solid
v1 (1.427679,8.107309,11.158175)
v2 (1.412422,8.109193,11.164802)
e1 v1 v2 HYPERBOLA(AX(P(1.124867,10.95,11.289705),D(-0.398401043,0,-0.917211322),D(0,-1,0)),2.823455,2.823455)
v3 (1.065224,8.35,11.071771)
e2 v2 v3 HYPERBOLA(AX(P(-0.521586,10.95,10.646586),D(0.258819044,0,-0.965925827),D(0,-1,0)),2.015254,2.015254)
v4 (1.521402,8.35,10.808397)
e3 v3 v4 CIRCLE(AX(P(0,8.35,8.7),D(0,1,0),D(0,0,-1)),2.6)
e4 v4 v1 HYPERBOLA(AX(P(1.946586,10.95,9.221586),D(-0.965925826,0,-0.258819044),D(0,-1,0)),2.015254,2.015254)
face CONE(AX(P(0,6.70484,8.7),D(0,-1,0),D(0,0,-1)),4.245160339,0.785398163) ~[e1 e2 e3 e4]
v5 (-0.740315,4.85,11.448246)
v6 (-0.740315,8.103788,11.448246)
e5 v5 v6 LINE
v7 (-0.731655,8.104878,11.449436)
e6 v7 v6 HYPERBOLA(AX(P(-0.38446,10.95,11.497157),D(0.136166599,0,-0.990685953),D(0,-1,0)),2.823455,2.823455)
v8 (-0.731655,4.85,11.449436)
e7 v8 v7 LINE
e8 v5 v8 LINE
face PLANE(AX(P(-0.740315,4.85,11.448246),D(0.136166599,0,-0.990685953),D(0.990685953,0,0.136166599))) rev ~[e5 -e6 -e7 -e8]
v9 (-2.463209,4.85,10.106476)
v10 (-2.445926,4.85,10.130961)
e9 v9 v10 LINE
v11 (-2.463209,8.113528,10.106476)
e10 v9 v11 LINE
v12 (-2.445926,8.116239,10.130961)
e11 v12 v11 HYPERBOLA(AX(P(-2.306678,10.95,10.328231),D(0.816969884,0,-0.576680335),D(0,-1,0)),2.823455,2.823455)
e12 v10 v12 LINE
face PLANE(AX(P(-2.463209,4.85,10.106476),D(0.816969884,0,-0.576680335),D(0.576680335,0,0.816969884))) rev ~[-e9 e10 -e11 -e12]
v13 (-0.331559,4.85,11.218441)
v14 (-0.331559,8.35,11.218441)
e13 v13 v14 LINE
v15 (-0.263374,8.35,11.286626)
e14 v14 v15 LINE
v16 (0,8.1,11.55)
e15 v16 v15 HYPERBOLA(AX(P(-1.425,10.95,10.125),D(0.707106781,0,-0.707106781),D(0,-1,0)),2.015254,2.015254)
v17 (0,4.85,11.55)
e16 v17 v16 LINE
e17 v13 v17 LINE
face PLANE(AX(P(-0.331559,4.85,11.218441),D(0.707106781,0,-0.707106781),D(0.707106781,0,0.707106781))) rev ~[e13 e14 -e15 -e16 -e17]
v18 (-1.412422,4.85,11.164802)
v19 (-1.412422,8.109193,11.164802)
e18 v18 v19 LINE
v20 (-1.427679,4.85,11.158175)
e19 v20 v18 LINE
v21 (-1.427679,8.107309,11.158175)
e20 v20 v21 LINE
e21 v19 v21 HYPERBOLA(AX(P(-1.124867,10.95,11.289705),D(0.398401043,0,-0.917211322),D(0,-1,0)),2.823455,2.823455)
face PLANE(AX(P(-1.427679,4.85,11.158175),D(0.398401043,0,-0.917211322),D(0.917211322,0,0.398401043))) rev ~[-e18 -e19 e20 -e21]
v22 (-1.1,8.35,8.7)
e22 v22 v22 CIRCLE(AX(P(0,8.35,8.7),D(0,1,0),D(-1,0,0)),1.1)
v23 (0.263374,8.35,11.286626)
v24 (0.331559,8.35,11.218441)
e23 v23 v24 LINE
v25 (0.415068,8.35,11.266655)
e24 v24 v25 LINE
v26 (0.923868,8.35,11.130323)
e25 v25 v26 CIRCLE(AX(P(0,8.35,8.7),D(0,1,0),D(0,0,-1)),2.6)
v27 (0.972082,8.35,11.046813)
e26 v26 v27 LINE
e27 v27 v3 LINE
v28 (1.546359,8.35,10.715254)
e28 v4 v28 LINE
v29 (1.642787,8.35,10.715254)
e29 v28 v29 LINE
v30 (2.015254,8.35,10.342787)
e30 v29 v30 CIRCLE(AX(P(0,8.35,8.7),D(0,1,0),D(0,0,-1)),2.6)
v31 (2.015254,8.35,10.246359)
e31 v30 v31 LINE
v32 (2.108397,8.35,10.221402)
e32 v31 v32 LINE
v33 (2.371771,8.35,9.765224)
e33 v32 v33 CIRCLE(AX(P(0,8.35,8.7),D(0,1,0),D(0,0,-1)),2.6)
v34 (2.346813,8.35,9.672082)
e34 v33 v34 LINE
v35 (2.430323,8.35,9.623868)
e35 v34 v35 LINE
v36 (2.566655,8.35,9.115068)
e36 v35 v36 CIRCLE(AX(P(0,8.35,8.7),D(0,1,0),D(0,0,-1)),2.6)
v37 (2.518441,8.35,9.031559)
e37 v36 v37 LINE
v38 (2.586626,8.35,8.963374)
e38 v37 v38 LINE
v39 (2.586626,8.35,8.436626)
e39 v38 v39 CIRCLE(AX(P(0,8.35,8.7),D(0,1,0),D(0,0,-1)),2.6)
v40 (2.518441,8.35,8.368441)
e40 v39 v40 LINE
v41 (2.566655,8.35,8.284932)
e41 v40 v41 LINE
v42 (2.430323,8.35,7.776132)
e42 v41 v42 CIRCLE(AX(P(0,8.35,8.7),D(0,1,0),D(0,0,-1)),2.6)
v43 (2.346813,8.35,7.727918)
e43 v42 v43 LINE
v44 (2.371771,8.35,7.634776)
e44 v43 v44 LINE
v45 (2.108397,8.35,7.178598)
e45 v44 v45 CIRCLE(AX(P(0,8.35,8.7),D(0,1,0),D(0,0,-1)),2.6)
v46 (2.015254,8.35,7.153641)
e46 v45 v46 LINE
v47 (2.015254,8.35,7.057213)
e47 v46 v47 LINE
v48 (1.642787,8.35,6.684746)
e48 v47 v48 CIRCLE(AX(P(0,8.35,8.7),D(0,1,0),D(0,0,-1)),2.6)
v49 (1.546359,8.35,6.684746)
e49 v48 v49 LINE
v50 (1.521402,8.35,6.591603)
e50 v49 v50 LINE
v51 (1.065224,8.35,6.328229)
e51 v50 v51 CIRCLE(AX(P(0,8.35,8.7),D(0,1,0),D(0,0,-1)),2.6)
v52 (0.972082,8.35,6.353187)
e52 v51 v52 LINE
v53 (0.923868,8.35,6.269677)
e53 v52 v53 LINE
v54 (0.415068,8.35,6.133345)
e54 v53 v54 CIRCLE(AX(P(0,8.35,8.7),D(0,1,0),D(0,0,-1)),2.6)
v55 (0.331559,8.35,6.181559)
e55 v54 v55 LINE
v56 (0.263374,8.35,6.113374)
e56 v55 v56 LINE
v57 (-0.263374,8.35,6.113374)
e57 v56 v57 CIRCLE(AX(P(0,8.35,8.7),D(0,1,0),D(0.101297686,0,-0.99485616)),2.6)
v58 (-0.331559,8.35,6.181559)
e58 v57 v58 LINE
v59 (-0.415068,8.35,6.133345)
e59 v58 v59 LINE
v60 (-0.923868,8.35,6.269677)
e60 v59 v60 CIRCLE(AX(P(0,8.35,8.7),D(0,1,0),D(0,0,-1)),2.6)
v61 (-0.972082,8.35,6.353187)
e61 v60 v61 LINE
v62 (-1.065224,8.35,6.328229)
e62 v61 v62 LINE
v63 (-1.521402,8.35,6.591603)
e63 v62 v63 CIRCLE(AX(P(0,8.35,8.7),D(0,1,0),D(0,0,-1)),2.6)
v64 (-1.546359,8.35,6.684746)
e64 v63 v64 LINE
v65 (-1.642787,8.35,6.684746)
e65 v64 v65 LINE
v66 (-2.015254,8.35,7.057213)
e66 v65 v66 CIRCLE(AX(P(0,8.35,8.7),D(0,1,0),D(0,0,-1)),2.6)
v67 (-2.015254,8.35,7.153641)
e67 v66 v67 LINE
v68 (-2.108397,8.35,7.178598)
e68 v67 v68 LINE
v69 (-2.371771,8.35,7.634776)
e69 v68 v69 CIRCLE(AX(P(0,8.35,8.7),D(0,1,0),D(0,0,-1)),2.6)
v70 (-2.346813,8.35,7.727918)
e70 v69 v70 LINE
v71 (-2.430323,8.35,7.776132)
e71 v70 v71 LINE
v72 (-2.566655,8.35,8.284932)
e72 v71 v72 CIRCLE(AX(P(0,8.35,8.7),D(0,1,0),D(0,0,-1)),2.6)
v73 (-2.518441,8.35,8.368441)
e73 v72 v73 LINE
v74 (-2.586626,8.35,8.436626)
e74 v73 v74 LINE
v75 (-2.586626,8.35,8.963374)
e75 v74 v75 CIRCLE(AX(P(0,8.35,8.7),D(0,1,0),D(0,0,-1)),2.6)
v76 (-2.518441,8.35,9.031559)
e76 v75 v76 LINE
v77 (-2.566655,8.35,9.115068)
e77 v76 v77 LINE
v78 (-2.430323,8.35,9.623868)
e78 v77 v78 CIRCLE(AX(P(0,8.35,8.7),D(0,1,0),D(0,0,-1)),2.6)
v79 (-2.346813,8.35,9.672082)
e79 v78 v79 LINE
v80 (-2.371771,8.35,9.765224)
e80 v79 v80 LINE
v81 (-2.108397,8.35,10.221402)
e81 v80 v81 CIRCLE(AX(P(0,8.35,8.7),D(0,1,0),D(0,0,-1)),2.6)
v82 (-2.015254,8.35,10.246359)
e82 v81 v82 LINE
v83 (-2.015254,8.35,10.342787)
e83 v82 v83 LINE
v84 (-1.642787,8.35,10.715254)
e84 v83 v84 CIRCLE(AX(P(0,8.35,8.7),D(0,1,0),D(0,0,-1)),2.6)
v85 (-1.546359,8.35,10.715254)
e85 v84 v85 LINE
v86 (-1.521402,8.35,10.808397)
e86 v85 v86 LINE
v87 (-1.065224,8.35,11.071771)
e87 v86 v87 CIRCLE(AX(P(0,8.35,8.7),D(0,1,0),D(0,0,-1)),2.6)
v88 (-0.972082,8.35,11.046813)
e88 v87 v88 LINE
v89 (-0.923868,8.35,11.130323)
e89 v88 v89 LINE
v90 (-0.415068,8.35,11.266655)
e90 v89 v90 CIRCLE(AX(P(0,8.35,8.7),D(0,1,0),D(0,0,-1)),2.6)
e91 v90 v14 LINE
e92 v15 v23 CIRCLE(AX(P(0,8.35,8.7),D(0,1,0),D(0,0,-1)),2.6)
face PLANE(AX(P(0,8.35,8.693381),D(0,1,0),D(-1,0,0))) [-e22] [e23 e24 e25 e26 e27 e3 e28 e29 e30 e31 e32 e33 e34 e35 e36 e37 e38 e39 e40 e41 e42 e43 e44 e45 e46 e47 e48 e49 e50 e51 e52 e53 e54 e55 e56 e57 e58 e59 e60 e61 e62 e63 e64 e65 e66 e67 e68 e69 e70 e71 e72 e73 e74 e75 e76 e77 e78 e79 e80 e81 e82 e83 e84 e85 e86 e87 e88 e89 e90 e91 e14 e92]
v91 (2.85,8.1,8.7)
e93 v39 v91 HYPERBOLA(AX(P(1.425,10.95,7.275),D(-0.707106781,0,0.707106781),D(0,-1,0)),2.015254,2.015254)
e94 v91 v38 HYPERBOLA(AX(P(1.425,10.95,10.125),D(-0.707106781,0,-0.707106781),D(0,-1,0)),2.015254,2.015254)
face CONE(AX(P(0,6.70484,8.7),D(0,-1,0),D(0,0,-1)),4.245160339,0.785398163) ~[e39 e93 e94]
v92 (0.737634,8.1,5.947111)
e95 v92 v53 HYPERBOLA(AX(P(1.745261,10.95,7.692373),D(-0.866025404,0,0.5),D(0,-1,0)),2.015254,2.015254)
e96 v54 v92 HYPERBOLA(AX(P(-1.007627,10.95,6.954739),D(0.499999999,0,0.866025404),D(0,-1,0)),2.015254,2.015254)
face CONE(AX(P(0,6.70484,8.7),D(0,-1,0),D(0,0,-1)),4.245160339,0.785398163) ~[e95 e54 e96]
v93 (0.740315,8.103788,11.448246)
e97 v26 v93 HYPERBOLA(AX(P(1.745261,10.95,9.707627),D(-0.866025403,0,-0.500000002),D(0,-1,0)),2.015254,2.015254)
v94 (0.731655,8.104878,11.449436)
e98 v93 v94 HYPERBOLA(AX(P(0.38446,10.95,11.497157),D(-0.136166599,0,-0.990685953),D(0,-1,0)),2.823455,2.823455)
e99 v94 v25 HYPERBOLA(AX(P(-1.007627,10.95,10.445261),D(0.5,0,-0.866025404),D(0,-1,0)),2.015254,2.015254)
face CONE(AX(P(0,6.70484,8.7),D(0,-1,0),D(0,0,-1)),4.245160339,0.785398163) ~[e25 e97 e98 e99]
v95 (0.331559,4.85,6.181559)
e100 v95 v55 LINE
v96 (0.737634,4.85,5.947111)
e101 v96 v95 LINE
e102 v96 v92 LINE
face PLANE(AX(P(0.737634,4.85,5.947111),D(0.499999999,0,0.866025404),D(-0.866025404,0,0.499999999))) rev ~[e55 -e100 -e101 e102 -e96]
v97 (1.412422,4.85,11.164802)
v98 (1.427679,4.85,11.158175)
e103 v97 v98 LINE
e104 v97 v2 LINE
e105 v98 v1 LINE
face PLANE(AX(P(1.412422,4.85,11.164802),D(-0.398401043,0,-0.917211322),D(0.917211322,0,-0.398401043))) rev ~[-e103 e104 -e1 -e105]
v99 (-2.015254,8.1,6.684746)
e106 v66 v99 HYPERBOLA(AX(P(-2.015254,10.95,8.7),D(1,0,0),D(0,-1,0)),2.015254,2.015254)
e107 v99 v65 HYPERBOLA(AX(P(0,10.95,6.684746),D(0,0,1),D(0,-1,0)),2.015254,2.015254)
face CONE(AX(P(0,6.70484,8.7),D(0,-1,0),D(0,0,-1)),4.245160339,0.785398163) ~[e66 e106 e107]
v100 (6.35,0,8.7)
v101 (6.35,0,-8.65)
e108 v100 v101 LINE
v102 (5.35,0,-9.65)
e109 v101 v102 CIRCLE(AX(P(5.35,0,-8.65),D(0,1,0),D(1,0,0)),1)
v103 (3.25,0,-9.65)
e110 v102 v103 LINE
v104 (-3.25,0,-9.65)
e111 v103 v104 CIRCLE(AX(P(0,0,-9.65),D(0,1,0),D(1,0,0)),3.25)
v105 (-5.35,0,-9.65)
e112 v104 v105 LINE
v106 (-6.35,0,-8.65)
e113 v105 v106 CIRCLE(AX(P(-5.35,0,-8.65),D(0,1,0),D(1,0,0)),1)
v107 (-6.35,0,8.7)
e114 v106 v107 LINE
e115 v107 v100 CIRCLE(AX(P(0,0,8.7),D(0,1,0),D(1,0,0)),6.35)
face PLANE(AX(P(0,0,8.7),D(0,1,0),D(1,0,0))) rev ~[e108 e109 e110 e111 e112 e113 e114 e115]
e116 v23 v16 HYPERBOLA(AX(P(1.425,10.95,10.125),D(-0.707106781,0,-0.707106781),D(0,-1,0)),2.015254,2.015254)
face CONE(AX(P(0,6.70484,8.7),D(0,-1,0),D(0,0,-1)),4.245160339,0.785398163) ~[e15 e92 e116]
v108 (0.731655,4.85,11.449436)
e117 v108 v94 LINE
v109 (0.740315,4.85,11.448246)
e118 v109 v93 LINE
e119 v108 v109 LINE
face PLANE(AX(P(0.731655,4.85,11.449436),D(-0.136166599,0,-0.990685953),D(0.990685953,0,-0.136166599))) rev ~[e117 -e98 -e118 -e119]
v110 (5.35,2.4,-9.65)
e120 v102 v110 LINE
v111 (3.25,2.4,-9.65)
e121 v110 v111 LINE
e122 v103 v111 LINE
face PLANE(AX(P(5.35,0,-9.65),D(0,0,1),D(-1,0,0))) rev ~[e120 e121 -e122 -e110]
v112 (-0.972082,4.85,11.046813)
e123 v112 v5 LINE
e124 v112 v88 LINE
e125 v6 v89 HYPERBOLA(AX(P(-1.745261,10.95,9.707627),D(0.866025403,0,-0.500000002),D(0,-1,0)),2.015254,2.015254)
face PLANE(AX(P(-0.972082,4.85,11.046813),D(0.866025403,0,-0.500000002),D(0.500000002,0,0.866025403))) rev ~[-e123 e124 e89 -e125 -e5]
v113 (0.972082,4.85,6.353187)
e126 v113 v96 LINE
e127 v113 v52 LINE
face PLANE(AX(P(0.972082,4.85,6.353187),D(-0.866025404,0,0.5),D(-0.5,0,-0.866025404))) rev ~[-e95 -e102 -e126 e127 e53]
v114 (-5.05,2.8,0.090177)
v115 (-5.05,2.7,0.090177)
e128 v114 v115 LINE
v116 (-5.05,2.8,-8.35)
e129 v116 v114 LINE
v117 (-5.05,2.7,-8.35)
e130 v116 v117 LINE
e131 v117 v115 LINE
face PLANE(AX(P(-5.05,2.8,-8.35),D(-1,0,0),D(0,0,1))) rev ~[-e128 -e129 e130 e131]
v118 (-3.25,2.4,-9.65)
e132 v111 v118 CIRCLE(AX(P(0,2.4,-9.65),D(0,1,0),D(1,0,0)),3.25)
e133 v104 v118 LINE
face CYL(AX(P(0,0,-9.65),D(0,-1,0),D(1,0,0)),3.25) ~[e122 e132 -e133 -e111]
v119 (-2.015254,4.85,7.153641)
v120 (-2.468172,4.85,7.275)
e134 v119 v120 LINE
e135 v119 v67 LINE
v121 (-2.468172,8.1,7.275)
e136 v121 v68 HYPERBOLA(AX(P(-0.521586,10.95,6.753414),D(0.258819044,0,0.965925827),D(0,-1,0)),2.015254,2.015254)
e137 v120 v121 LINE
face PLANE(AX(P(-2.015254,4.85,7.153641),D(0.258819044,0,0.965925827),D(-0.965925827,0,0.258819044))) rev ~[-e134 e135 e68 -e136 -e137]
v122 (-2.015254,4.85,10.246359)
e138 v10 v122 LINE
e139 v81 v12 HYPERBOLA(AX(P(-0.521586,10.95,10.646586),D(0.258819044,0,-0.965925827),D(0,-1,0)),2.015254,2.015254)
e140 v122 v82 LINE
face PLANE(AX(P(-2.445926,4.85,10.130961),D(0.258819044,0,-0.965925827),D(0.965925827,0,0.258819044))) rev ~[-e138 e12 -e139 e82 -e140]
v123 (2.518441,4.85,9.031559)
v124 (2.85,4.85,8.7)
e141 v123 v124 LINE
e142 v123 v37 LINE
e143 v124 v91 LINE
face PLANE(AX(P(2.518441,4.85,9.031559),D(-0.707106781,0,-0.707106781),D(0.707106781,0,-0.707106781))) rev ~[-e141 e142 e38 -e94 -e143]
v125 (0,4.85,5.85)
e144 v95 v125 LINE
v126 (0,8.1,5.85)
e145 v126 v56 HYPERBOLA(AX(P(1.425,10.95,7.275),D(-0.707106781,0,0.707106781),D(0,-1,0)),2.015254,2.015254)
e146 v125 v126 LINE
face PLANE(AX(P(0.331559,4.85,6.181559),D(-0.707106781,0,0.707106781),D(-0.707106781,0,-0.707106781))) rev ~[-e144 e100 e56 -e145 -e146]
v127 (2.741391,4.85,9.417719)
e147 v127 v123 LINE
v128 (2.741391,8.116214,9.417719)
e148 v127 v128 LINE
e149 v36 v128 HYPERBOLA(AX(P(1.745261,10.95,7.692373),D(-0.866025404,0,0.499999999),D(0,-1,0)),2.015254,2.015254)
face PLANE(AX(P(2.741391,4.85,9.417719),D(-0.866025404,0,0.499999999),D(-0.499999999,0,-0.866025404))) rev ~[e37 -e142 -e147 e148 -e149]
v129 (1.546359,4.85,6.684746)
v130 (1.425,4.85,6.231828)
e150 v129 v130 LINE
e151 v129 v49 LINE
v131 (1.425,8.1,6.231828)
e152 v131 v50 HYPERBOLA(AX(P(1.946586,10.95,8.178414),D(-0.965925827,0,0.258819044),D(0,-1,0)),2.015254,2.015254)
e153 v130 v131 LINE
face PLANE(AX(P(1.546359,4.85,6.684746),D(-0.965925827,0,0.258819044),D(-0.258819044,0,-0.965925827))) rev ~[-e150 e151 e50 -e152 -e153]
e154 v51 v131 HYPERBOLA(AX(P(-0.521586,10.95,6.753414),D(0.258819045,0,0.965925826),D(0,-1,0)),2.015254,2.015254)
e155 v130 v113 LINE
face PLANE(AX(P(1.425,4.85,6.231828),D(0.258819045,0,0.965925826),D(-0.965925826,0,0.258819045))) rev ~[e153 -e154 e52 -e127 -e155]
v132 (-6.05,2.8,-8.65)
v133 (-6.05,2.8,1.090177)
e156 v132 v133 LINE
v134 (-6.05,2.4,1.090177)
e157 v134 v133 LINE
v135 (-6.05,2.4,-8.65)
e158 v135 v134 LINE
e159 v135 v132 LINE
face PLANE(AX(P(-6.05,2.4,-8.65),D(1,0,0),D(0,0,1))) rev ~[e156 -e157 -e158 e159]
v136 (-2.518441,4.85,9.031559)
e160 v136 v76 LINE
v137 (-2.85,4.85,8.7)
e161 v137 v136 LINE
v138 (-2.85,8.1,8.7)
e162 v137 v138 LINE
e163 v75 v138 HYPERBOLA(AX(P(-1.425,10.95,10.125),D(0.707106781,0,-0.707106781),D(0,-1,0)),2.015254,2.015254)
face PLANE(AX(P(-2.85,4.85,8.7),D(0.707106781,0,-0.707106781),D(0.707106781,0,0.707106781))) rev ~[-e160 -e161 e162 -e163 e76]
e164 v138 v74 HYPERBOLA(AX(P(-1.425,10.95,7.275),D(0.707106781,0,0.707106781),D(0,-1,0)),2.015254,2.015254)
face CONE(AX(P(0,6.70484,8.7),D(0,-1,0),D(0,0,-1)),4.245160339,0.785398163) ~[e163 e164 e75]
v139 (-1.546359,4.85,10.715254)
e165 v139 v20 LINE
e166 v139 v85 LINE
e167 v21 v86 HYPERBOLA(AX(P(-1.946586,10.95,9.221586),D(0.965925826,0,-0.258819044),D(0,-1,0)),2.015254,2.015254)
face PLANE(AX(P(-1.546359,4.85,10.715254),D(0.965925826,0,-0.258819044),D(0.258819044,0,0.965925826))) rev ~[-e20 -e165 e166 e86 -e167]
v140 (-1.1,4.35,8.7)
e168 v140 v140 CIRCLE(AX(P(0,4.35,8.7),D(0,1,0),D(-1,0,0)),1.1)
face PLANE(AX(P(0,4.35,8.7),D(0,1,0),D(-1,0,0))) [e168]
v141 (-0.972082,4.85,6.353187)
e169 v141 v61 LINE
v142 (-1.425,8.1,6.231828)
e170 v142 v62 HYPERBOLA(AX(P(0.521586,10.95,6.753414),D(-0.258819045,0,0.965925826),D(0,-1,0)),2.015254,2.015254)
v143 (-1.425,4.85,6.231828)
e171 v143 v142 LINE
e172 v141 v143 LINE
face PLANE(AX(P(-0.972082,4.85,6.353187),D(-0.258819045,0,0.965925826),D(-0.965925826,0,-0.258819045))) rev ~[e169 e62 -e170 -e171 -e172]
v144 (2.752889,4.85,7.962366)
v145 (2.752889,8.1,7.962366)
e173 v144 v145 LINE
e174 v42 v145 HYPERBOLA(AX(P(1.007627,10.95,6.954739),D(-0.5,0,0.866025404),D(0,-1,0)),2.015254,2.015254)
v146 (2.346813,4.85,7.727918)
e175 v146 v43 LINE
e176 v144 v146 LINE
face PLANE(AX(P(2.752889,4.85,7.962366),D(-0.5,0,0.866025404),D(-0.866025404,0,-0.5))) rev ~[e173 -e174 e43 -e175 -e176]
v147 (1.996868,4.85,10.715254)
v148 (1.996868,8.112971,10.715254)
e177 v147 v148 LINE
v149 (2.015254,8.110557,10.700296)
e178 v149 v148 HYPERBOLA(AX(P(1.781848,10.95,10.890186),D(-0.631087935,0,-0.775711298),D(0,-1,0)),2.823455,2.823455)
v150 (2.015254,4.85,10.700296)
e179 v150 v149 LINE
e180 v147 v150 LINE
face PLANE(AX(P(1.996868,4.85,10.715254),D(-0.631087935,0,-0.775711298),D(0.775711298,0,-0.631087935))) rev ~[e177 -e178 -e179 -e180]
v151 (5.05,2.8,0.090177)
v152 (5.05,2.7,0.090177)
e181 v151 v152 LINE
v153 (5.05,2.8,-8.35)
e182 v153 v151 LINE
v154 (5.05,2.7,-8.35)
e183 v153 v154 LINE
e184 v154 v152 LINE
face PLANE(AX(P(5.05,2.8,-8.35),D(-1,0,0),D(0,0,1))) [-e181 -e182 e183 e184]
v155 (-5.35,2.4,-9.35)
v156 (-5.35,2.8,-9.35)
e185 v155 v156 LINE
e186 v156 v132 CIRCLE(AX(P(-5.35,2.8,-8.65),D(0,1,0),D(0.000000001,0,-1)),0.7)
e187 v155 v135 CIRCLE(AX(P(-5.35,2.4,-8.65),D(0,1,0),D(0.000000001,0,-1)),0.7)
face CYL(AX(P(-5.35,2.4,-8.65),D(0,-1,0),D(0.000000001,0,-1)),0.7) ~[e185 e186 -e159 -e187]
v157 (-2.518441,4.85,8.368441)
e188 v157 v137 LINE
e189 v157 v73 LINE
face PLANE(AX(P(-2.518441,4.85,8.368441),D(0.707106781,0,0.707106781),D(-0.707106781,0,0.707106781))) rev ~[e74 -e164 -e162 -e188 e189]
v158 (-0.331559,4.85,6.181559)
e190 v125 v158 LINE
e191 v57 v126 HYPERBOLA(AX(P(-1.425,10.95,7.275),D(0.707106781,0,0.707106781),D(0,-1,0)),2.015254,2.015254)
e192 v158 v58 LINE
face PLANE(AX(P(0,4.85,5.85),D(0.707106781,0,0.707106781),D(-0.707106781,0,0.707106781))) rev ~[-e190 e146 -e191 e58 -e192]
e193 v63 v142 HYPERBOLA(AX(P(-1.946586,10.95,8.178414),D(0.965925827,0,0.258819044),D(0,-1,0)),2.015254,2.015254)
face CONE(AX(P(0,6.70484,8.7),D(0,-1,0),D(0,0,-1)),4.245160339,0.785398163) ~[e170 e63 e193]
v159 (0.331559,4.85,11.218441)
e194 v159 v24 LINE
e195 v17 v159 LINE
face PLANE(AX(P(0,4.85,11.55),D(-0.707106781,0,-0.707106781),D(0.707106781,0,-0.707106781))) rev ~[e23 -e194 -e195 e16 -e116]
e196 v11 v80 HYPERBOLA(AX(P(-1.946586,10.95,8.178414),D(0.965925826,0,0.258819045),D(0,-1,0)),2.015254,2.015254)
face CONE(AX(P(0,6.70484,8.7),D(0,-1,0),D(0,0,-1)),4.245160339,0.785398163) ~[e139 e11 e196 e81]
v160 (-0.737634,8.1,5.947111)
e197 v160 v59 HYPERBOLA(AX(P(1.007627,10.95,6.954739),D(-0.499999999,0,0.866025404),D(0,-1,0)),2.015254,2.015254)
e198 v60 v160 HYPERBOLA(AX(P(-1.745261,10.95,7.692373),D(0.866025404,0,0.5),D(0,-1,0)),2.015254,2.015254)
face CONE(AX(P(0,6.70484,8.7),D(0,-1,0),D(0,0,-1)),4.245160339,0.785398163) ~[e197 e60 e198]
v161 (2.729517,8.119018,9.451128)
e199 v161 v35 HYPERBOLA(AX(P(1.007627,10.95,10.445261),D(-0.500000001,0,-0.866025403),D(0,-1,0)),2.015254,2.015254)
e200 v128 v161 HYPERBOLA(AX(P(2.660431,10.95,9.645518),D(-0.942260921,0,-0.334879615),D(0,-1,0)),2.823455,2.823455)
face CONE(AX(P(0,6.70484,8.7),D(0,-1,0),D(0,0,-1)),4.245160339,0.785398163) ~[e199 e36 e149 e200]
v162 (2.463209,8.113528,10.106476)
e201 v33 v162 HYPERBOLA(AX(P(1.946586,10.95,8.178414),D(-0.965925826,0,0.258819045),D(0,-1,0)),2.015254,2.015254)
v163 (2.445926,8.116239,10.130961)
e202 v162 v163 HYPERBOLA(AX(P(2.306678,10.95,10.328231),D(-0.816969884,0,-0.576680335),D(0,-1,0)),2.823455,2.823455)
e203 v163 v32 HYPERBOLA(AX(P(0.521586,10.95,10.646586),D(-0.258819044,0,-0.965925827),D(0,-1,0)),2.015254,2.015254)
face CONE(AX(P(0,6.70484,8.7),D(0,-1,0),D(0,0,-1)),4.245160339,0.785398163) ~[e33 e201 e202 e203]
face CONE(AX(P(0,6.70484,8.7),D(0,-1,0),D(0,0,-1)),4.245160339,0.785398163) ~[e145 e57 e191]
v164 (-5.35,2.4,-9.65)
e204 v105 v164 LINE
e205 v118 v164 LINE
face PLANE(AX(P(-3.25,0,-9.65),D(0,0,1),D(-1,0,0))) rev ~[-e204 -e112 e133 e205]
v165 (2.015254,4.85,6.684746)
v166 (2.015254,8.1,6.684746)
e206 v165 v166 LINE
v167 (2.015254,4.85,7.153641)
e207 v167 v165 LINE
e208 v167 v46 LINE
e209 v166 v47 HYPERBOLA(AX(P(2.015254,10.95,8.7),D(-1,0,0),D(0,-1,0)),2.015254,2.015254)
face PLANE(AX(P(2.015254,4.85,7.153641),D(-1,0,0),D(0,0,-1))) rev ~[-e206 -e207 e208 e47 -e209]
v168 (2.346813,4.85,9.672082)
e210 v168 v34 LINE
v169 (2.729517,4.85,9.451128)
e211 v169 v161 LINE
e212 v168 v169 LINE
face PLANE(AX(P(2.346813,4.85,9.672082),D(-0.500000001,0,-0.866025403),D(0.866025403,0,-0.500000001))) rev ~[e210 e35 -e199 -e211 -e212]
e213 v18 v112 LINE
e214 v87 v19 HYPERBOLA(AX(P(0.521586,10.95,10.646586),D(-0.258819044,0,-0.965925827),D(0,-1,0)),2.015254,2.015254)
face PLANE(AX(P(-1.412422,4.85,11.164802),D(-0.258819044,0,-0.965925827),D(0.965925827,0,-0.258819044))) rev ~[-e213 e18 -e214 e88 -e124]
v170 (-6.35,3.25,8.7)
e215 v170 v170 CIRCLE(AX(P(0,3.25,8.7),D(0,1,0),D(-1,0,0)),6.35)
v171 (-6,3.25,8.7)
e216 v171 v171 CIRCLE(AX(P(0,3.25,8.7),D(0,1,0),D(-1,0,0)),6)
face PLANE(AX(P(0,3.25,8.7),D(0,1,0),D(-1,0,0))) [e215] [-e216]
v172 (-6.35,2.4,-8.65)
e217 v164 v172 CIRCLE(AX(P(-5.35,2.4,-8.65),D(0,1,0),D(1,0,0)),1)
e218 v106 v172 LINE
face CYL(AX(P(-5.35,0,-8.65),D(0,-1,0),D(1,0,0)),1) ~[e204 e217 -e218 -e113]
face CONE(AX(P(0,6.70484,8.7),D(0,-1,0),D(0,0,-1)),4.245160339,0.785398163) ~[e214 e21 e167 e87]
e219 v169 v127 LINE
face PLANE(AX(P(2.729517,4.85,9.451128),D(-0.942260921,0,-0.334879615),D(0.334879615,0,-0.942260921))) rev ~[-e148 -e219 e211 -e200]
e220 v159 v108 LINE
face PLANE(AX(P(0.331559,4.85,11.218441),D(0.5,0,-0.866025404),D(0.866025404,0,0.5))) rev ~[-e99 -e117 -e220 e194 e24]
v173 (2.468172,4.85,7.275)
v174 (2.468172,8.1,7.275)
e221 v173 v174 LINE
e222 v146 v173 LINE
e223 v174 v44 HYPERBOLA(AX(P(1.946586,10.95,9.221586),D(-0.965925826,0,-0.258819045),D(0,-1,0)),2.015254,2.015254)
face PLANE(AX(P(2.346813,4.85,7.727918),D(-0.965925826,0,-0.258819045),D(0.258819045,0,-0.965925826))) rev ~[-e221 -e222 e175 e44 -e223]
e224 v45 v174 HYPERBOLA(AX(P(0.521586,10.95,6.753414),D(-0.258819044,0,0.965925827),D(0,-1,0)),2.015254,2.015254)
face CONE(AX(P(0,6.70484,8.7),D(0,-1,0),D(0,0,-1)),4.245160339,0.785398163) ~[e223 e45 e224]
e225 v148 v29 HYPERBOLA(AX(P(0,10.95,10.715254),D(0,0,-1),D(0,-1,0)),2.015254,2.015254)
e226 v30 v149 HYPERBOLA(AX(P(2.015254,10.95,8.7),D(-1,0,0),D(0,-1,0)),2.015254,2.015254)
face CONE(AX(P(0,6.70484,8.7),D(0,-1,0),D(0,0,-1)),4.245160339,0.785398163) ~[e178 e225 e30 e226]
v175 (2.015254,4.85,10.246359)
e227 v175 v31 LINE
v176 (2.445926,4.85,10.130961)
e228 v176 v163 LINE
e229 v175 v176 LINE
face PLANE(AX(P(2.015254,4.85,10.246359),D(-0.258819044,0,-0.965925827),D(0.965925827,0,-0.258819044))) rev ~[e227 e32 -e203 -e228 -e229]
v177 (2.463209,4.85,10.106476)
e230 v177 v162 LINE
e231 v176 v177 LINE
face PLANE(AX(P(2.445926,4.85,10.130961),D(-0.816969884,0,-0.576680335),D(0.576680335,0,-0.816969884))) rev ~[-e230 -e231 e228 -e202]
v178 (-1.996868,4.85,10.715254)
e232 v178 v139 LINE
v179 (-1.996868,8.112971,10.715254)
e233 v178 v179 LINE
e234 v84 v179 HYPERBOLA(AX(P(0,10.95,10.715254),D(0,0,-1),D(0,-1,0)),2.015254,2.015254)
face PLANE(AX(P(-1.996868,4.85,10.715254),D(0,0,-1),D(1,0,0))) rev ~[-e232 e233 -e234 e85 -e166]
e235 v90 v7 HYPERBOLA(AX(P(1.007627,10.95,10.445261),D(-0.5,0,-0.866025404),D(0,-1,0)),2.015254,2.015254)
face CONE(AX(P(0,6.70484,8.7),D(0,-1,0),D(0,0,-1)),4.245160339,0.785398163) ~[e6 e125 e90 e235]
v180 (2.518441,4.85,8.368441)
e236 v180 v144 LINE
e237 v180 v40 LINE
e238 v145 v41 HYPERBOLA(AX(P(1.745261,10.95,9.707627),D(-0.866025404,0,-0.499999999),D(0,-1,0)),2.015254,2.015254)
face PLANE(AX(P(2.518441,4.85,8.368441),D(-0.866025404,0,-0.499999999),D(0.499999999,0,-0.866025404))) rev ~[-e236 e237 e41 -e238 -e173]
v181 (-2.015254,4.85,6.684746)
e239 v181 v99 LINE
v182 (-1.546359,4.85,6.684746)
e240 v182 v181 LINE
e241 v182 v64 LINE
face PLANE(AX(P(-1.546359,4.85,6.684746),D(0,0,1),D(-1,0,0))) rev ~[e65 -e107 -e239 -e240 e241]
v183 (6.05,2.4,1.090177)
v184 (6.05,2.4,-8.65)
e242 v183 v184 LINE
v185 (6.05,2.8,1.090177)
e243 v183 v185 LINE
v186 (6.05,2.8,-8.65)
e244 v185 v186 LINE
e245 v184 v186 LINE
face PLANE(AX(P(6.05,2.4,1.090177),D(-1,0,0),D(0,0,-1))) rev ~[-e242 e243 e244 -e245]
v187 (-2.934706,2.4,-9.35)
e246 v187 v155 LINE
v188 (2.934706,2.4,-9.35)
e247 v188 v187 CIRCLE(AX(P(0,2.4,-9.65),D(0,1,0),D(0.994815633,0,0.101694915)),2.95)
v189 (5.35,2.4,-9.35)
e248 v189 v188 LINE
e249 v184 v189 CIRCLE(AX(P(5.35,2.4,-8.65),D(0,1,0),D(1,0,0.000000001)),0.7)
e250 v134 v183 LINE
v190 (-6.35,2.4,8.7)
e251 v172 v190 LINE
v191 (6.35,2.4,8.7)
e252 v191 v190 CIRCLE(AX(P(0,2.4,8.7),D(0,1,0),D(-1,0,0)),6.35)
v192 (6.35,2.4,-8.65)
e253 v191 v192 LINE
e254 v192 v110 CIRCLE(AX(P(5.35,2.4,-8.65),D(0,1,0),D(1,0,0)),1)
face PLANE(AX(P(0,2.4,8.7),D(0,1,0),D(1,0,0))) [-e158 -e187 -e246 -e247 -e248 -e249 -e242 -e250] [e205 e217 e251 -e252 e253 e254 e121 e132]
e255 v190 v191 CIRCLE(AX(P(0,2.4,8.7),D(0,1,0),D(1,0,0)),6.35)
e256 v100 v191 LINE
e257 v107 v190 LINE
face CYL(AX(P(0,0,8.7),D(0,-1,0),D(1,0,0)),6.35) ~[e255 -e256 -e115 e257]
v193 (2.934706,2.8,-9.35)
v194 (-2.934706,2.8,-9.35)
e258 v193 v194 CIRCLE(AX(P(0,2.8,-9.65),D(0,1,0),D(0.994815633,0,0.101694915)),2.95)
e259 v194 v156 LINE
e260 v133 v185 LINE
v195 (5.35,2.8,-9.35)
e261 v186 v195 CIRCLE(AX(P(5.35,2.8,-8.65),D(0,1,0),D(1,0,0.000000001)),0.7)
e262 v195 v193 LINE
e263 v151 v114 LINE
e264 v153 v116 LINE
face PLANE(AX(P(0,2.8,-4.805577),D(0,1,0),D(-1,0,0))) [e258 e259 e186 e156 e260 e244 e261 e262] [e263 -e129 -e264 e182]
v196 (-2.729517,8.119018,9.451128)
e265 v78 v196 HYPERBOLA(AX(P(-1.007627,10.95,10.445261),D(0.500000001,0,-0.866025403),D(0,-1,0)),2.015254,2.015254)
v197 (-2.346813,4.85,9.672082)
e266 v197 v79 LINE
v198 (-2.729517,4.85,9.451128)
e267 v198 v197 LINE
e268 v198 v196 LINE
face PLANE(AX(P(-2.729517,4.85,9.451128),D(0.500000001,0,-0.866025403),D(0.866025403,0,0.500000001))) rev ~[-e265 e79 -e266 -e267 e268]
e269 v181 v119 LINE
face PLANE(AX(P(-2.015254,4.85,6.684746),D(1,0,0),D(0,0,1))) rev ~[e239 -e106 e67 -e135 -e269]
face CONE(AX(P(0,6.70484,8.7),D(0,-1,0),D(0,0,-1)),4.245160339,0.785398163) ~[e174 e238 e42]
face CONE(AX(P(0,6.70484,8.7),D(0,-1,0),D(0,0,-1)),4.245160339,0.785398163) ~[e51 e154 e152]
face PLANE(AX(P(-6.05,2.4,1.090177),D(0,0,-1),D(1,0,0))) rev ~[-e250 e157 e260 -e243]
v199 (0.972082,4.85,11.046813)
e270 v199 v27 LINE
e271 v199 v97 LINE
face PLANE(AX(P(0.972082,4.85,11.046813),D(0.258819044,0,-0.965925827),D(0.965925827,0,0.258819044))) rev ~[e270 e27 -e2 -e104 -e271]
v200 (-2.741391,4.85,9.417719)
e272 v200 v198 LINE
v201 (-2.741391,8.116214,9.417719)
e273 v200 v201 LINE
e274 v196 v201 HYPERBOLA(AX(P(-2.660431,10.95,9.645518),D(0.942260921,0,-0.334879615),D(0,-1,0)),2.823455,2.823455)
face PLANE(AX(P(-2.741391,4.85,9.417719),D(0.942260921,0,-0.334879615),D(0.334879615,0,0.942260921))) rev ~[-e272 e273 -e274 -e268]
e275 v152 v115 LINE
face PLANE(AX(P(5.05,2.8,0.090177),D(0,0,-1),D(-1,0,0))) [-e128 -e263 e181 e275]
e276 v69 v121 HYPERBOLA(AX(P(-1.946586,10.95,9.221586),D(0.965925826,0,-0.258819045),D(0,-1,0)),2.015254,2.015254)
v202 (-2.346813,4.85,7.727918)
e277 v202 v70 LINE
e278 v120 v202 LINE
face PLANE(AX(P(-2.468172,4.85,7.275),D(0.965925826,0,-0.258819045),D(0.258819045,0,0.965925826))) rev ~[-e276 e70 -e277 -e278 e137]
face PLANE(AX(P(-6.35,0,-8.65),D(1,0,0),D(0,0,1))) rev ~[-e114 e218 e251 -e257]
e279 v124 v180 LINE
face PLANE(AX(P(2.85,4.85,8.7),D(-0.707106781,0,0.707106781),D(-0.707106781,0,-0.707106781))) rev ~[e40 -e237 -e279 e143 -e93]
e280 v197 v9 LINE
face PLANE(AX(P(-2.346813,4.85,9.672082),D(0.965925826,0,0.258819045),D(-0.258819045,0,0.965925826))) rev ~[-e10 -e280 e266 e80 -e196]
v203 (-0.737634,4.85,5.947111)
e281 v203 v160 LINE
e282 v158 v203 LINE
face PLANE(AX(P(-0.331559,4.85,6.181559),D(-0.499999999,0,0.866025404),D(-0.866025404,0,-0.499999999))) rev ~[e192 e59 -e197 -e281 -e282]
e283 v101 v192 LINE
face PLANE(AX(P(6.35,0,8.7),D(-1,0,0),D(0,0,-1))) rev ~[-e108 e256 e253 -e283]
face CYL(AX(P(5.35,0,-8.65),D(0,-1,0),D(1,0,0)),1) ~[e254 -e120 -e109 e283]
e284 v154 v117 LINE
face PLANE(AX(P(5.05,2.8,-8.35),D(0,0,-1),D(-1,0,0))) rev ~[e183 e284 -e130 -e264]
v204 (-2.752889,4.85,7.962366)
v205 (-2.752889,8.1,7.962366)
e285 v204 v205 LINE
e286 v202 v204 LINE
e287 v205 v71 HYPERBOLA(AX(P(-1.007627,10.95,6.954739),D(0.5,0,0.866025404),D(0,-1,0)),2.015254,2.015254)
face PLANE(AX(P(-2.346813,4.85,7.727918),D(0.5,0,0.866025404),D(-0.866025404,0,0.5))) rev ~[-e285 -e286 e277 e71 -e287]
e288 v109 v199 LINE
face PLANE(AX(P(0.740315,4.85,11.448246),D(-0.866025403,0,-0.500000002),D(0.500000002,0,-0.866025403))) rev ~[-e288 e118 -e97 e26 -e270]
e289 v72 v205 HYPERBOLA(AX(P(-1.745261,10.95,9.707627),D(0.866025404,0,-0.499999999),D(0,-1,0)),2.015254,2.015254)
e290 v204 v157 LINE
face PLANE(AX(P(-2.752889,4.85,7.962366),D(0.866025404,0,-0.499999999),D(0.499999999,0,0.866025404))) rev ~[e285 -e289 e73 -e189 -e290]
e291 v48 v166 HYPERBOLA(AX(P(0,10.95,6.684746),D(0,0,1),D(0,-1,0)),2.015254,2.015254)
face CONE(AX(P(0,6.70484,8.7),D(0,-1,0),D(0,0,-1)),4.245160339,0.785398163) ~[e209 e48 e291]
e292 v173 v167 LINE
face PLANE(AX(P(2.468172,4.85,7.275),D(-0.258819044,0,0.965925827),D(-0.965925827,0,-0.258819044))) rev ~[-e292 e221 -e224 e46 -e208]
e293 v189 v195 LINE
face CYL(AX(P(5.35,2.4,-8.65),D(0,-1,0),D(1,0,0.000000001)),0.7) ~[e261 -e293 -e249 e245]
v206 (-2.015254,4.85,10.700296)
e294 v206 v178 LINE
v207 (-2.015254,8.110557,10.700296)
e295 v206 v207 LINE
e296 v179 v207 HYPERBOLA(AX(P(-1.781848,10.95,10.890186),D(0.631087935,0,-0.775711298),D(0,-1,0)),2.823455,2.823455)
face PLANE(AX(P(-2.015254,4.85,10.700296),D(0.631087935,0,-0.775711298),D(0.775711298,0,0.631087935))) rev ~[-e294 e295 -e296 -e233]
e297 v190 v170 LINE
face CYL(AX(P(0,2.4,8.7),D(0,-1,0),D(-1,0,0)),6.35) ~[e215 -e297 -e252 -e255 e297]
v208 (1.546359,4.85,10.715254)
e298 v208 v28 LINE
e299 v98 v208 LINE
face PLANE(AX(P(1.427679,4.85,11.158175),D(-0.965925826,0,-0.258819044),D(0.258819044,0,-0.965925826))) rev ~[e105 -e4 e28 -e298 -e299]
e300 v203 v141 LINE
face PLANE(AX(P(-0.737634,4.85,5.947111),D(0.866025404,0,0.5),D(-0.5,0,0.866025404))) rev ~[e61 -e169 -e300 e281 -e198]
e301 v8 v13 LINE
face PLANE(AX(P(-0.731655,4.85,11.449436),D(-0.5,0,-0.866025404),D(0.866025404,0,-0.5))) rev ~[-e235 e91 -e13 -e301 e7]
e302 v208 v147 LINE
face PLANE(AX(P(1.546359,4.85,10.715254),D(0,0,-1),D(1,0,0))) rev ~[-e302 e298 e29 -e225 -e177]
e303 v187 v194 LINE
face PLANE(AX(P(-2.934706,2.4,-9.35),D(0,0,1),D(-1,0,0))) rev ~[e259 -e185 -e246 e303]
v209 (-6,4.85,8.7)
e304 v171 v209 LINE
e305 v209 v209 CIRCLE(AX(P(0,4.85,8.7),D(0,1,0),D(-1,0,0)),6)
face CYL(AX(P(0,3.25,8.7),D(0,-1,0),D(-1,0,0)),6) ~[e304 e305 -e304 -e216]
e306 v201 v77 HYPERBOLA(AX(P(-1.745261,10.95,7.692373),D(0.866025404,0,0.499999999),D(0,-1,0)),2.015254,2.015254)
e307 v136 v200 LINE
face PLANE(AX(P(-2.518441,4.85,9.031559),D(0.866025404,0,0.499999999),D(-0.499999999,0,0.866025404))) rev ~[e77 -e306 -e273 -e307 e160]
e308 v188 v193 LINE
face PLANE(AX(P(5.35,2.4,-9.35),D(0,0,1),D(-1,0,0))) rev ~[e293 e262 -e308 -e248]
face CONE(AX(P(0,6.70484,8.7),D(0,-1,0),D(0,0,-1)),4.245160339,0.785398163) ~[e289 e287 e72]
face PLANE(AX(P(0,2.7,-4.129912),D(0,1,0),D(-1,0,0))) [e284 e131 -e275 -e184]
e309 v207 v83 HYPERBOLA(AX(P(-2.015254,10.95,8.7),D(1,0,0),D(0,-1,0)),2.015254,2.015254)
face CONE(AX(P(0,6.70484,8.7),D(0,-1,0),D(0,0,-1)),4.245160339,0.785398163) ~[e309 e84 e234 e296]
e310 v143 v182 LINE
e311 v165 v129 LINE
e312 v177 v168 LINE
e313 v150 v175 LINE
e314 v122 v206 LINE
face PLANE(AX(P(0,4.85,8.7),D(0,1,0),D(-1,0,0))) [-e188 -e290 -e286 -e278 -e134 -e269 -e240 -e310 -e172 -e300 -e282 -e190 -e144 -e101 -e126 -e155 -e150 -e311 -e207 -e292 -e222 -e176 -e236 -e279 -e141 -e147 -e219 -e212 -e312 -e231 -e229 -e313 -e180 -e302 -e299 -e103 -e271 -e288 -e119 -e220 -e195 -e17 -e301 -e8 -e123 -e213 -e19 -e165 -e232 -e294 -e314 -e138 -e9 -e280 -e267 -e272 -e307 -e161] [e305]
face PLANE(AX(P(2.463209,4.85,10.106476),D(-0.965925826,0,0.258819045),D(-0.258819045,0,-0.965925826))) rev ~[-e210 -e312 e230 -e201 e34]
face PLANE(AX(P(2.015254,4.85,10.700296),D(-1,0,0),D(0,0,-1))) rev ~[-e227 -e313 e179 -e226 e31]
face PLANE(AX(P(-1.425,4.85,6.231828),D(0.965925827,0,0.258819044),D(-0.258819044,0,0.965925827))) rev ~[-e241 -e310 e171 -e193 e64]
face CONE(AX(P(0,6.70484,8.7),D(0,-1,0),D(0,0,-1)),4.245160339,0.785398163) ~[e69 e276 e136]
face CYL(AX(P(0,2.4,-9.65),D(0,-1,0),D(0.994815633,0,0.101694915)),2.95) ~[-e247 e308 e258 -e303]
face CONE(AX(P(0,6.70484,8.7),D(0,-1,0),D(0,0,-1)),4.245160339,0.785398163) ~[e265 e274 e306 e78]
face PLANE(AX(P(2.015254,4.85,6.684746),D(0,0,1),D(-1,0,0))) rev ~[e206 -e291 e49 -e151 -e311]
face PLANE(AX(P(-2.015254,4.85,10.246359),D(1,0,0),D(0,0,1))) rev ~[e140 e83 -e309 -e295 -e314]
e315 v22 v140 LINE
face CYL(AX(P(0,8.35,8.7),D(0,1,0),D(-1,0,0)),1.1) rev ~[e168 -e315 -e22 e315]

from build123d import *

# Parameters (mm, degrees)
SKETCH1_R           = 6.35
SKETCH1_R_2         = 1
BOSS_EXTRUDE1_DEPTH = 2.4
SKETCH2_R           = 6.35
BOSS_EXTRUDE2_DEPTH = 0.85
SKETCH3_R           = 6
BOSS_EXTRUDE3_DEPTH = 1.6
BOSS_EXTRUDE4_DEPTH = 3.5
SKETCH6_R           = 1.1
CUT_EXTRUDE1_DEPTH  = 4
BOSS_EXTRUDE5_DEPTH = 0.4
SKETCH8_W           = 10.1
SKETCH8_H           = 8.440176683
CUT_EXTRUDE2_DEPTH  = 0.1


with BuildPart() as part:
    # Sketch1 → Boss-Extrude1 (new body)
    with BuildSketch(Plane(origin=(0, 0, 0), x_dir=(1, 0, 0), z_dir=(0, 1, 0))):
        with Locations((0, -8.7)):
            Circle(SKETCH1_R)
        with BuildLine():
            Line((-3.25, 9.65), (-5.35, 9.65))
            ThreePointArc((-5.35, 9.65), (-4.642893219, 9.357106781), (-4.35, 8.65))
            ThreePointArc((-4.35, 8.65), (-5.350000006, 7.65), (-6.35, 8.650000012))
            Line((-6.35, 8.650000012), (-6.35, -8.700000013))
            ThreePointArc((-6.35, -8.700000013), (-7e-09, -2.35), (6.35, -8.7))
            Line((6.35, -8.7), (6.35, 8.65))
            ThreePointArc((6.35, 8.65), (4.642893215, 7.942893223), (5.350000012, 9.65))
            Line((5.350000012, 9.65), (3.25, 9.65))
            ThreePointArc((3.25, 9.65), (0, 6.4), (-3.25, 9.65))
        make_face()
        with Locations((-5.35, 8.65)):
            Circle(SKETCH1_R_2)
        with BuildLine():
            ThreePointArc((3.25, 9.65), (0, 12.9), (-3.25, 9.65))
            Line((-3.25, 9.65), (3.25, 9.65))
        make_face()
        with BuildLine():
            Line((3.25, 9.65), (-3.25, 9.65))
            ThreePointArc((-3.25, 9.65), (0, 6.4), (3.25, 9.65))
        make_face()
        with Locations((5.35, 8.65)):
            Circle(SKETCH1_R_2)
    extrude(amount=BOSS_EXTRUDE1_DEPTH)

    # Sketch2 → Boss-Extrude2 (add)
    with BuildSketch(Plane(origin=(0, 2.4, 0), x_dir=(-1, 0, 0), z_dir=(0, 1, 0))):
        with Locations((0, 8.7)):
            Circle(SKETCH2_R)
    extrude(amount=BOSS_EXTRUDE2_DEPTH)

    # Sketch3 → Boss-Extrude3 (add)
    with BuildSketch(Plane(origin=(0, 3.25, 0), x_dir=(-1, 0, 0), z_dir=(0, 1, 0))):
        with Locations((0, 8.7)):
            Circle(SKETCH3_R)
    extrude(amount=BOSS_EXTRUDE3_DEPTH)

    # Sketch4 → Boss-Extrude4 (add)
    with BuildSketch(Plane(origin=(0, 4.85, 0), x_dir=(-1, 0, 0), z_dir=(0, 1, 0))):
        Polygon((2.518440958, 8.368440958), (2.85, 8.7), (2.518440958, 9.031559042), (2.741390732, 9.417719379), (2.729517437, 9.451127629), (2.346813369, 9.672081926), (2.463209043, 10.106476495), (2.445926072, 10.130960886), (2.015254326, 10.246359032), (2.015254326, 10.700296057), (1.996868143, 10.715254326), (1.546359032, 10.715254326), (1.427678707, 11.15817533), (1.412422166, 11.16480218), (0.972081926, 11.046813369), (0.740314632, 11.448246096), (0.731654815, 11.44943636), (0.331559042, 11.218440958), (0, 11.55), (-0.331559042, 11.218440958), (-0.731654815, 11.44943636), (-0.740314632, 11.448246096), (-0.972081926, 11.046813369), (-1.412422166, 11.16480218), (-1.427678707, 11.15817533), (-1.546359032, 10.715254326), (-1.996868143, 10.715254326), (-2.015254326, 10.700296057), (-2.015254326, 10.246359032), (-2.445926072, 10.130960886), (-2.463209043, 10.106476495), (-2.346813369, 9.672081926), (-2.729517437, 9.451127629), (-2.741390732, 9.417719379), (-2.518440958, 9.031559042), (-2.85, 8.7), (-2.518440958, 8.368440958), (-2.752888605, 7.962365721), (-2.346813369, 7.727918074), (-2.468172401, 7.275), (-2.015254326, 7.153640968), (-2.015254326, 6.684745674), (-1.546359032, 6.684745674), (-1.425, 6.231827599), (-0.972081926, 6.353186631), (-0.737634279, 5.947111395), (-0.331559042, 6.181559042), (0, 5.85), (0.331559042, 6.181559042), (0.737634279, 5.947111395), (0.972081926, 6.353186631), (1.425, 6.231827599), (1.546359032, 6.684745674), (2.015254326, 6.684745674), (2.015254326, 7.153640968), (2.468172401, 7.275), (2.346813369, 7.727918074), (2.752888605, 7.962365721), align=None)
    extrude(amount=BOSS_EXTRUDE4_DEPTH)

    # Sketch5 → Cut-Revolve1 (revolve, cut)
    with BuildSketch(Plane(origin=(0, 0, 0), x_dir=(0, 0, -1), z_dir=(1, 0, 0))):
        Polygon((-6.9, 9.15), (-4.454839661, 9.15), (-4.454839661, 6.704839661), align=None)
    revolve(axis=Axis((0, 8.077813164, 8.7), (0, -1, 0)), mode=Mode.SUBTRACT)

    # Sketch6 → Cut-Extrude1 (cut)
    with BuildSketch(Plane(origin=(0, 8.35, 0), x_dir=(-1, 0, 0), z_dir=(0, 1, 0))):
        with Locations((0, 8.7)):
            Circle(SKETCH6_R)
    extrude(amount=-CUT_EXTRUDE1_DEPTH, mode=Mode.SUBTRACT)

    # Sketch7 → Boss-Extrude5 (add)
    with BuildSketch(Plane(origin=(0, 2.4, 0), x_dir=(-1, 0, 0), z_dir=(0, 1, 0))):
        with BuildLine():
            Line((2.934706118, -9.35), (5.35, -9.35))
            ThreePointArc((5.35, -9.35), (5.844974747, -9.144974747), (6.05, -8.65))
            Line((6.05, -8.65), (6.05, 1.090176683))
            Line((6.05, 1.090176683), (-6.05, 1.090176683))
            Line((-6.05, 1.090176683), (-6.05, -1.654552581))
            Line((-6.05, -1.654552581), (-6.05, -8.65))
            ThreePointArc((-6.05, -8.65), (-5.844974747, -9.144974747), (-5.35, -9.35))
            Line((-5.35, -9.35), (-2.934706118, -9.35))
            ThreePointArc((-2.934706118, -9.35), (0, -12.6), (2.934706118, -9.35))
        make_face()
    extrude(amount=BOSS_EXTRUDE5_DEPTH)

    # Sketch8 → Cut-Extrude2 (cut)
    with BuildSketch(Plane(origin=(0, 2.8, 0), x_dir=(-1, 0, 0), z_dir=(0, 1, 0))):
        with Locations((0, -4.129911659)):
            Rectangle(SKETCH8_W, SKETCH8_H)
    extrude(amount=-CUT_EXTRUDE2_DEPTH, mode=Mode.SUBTRACT)


solid = part.part
